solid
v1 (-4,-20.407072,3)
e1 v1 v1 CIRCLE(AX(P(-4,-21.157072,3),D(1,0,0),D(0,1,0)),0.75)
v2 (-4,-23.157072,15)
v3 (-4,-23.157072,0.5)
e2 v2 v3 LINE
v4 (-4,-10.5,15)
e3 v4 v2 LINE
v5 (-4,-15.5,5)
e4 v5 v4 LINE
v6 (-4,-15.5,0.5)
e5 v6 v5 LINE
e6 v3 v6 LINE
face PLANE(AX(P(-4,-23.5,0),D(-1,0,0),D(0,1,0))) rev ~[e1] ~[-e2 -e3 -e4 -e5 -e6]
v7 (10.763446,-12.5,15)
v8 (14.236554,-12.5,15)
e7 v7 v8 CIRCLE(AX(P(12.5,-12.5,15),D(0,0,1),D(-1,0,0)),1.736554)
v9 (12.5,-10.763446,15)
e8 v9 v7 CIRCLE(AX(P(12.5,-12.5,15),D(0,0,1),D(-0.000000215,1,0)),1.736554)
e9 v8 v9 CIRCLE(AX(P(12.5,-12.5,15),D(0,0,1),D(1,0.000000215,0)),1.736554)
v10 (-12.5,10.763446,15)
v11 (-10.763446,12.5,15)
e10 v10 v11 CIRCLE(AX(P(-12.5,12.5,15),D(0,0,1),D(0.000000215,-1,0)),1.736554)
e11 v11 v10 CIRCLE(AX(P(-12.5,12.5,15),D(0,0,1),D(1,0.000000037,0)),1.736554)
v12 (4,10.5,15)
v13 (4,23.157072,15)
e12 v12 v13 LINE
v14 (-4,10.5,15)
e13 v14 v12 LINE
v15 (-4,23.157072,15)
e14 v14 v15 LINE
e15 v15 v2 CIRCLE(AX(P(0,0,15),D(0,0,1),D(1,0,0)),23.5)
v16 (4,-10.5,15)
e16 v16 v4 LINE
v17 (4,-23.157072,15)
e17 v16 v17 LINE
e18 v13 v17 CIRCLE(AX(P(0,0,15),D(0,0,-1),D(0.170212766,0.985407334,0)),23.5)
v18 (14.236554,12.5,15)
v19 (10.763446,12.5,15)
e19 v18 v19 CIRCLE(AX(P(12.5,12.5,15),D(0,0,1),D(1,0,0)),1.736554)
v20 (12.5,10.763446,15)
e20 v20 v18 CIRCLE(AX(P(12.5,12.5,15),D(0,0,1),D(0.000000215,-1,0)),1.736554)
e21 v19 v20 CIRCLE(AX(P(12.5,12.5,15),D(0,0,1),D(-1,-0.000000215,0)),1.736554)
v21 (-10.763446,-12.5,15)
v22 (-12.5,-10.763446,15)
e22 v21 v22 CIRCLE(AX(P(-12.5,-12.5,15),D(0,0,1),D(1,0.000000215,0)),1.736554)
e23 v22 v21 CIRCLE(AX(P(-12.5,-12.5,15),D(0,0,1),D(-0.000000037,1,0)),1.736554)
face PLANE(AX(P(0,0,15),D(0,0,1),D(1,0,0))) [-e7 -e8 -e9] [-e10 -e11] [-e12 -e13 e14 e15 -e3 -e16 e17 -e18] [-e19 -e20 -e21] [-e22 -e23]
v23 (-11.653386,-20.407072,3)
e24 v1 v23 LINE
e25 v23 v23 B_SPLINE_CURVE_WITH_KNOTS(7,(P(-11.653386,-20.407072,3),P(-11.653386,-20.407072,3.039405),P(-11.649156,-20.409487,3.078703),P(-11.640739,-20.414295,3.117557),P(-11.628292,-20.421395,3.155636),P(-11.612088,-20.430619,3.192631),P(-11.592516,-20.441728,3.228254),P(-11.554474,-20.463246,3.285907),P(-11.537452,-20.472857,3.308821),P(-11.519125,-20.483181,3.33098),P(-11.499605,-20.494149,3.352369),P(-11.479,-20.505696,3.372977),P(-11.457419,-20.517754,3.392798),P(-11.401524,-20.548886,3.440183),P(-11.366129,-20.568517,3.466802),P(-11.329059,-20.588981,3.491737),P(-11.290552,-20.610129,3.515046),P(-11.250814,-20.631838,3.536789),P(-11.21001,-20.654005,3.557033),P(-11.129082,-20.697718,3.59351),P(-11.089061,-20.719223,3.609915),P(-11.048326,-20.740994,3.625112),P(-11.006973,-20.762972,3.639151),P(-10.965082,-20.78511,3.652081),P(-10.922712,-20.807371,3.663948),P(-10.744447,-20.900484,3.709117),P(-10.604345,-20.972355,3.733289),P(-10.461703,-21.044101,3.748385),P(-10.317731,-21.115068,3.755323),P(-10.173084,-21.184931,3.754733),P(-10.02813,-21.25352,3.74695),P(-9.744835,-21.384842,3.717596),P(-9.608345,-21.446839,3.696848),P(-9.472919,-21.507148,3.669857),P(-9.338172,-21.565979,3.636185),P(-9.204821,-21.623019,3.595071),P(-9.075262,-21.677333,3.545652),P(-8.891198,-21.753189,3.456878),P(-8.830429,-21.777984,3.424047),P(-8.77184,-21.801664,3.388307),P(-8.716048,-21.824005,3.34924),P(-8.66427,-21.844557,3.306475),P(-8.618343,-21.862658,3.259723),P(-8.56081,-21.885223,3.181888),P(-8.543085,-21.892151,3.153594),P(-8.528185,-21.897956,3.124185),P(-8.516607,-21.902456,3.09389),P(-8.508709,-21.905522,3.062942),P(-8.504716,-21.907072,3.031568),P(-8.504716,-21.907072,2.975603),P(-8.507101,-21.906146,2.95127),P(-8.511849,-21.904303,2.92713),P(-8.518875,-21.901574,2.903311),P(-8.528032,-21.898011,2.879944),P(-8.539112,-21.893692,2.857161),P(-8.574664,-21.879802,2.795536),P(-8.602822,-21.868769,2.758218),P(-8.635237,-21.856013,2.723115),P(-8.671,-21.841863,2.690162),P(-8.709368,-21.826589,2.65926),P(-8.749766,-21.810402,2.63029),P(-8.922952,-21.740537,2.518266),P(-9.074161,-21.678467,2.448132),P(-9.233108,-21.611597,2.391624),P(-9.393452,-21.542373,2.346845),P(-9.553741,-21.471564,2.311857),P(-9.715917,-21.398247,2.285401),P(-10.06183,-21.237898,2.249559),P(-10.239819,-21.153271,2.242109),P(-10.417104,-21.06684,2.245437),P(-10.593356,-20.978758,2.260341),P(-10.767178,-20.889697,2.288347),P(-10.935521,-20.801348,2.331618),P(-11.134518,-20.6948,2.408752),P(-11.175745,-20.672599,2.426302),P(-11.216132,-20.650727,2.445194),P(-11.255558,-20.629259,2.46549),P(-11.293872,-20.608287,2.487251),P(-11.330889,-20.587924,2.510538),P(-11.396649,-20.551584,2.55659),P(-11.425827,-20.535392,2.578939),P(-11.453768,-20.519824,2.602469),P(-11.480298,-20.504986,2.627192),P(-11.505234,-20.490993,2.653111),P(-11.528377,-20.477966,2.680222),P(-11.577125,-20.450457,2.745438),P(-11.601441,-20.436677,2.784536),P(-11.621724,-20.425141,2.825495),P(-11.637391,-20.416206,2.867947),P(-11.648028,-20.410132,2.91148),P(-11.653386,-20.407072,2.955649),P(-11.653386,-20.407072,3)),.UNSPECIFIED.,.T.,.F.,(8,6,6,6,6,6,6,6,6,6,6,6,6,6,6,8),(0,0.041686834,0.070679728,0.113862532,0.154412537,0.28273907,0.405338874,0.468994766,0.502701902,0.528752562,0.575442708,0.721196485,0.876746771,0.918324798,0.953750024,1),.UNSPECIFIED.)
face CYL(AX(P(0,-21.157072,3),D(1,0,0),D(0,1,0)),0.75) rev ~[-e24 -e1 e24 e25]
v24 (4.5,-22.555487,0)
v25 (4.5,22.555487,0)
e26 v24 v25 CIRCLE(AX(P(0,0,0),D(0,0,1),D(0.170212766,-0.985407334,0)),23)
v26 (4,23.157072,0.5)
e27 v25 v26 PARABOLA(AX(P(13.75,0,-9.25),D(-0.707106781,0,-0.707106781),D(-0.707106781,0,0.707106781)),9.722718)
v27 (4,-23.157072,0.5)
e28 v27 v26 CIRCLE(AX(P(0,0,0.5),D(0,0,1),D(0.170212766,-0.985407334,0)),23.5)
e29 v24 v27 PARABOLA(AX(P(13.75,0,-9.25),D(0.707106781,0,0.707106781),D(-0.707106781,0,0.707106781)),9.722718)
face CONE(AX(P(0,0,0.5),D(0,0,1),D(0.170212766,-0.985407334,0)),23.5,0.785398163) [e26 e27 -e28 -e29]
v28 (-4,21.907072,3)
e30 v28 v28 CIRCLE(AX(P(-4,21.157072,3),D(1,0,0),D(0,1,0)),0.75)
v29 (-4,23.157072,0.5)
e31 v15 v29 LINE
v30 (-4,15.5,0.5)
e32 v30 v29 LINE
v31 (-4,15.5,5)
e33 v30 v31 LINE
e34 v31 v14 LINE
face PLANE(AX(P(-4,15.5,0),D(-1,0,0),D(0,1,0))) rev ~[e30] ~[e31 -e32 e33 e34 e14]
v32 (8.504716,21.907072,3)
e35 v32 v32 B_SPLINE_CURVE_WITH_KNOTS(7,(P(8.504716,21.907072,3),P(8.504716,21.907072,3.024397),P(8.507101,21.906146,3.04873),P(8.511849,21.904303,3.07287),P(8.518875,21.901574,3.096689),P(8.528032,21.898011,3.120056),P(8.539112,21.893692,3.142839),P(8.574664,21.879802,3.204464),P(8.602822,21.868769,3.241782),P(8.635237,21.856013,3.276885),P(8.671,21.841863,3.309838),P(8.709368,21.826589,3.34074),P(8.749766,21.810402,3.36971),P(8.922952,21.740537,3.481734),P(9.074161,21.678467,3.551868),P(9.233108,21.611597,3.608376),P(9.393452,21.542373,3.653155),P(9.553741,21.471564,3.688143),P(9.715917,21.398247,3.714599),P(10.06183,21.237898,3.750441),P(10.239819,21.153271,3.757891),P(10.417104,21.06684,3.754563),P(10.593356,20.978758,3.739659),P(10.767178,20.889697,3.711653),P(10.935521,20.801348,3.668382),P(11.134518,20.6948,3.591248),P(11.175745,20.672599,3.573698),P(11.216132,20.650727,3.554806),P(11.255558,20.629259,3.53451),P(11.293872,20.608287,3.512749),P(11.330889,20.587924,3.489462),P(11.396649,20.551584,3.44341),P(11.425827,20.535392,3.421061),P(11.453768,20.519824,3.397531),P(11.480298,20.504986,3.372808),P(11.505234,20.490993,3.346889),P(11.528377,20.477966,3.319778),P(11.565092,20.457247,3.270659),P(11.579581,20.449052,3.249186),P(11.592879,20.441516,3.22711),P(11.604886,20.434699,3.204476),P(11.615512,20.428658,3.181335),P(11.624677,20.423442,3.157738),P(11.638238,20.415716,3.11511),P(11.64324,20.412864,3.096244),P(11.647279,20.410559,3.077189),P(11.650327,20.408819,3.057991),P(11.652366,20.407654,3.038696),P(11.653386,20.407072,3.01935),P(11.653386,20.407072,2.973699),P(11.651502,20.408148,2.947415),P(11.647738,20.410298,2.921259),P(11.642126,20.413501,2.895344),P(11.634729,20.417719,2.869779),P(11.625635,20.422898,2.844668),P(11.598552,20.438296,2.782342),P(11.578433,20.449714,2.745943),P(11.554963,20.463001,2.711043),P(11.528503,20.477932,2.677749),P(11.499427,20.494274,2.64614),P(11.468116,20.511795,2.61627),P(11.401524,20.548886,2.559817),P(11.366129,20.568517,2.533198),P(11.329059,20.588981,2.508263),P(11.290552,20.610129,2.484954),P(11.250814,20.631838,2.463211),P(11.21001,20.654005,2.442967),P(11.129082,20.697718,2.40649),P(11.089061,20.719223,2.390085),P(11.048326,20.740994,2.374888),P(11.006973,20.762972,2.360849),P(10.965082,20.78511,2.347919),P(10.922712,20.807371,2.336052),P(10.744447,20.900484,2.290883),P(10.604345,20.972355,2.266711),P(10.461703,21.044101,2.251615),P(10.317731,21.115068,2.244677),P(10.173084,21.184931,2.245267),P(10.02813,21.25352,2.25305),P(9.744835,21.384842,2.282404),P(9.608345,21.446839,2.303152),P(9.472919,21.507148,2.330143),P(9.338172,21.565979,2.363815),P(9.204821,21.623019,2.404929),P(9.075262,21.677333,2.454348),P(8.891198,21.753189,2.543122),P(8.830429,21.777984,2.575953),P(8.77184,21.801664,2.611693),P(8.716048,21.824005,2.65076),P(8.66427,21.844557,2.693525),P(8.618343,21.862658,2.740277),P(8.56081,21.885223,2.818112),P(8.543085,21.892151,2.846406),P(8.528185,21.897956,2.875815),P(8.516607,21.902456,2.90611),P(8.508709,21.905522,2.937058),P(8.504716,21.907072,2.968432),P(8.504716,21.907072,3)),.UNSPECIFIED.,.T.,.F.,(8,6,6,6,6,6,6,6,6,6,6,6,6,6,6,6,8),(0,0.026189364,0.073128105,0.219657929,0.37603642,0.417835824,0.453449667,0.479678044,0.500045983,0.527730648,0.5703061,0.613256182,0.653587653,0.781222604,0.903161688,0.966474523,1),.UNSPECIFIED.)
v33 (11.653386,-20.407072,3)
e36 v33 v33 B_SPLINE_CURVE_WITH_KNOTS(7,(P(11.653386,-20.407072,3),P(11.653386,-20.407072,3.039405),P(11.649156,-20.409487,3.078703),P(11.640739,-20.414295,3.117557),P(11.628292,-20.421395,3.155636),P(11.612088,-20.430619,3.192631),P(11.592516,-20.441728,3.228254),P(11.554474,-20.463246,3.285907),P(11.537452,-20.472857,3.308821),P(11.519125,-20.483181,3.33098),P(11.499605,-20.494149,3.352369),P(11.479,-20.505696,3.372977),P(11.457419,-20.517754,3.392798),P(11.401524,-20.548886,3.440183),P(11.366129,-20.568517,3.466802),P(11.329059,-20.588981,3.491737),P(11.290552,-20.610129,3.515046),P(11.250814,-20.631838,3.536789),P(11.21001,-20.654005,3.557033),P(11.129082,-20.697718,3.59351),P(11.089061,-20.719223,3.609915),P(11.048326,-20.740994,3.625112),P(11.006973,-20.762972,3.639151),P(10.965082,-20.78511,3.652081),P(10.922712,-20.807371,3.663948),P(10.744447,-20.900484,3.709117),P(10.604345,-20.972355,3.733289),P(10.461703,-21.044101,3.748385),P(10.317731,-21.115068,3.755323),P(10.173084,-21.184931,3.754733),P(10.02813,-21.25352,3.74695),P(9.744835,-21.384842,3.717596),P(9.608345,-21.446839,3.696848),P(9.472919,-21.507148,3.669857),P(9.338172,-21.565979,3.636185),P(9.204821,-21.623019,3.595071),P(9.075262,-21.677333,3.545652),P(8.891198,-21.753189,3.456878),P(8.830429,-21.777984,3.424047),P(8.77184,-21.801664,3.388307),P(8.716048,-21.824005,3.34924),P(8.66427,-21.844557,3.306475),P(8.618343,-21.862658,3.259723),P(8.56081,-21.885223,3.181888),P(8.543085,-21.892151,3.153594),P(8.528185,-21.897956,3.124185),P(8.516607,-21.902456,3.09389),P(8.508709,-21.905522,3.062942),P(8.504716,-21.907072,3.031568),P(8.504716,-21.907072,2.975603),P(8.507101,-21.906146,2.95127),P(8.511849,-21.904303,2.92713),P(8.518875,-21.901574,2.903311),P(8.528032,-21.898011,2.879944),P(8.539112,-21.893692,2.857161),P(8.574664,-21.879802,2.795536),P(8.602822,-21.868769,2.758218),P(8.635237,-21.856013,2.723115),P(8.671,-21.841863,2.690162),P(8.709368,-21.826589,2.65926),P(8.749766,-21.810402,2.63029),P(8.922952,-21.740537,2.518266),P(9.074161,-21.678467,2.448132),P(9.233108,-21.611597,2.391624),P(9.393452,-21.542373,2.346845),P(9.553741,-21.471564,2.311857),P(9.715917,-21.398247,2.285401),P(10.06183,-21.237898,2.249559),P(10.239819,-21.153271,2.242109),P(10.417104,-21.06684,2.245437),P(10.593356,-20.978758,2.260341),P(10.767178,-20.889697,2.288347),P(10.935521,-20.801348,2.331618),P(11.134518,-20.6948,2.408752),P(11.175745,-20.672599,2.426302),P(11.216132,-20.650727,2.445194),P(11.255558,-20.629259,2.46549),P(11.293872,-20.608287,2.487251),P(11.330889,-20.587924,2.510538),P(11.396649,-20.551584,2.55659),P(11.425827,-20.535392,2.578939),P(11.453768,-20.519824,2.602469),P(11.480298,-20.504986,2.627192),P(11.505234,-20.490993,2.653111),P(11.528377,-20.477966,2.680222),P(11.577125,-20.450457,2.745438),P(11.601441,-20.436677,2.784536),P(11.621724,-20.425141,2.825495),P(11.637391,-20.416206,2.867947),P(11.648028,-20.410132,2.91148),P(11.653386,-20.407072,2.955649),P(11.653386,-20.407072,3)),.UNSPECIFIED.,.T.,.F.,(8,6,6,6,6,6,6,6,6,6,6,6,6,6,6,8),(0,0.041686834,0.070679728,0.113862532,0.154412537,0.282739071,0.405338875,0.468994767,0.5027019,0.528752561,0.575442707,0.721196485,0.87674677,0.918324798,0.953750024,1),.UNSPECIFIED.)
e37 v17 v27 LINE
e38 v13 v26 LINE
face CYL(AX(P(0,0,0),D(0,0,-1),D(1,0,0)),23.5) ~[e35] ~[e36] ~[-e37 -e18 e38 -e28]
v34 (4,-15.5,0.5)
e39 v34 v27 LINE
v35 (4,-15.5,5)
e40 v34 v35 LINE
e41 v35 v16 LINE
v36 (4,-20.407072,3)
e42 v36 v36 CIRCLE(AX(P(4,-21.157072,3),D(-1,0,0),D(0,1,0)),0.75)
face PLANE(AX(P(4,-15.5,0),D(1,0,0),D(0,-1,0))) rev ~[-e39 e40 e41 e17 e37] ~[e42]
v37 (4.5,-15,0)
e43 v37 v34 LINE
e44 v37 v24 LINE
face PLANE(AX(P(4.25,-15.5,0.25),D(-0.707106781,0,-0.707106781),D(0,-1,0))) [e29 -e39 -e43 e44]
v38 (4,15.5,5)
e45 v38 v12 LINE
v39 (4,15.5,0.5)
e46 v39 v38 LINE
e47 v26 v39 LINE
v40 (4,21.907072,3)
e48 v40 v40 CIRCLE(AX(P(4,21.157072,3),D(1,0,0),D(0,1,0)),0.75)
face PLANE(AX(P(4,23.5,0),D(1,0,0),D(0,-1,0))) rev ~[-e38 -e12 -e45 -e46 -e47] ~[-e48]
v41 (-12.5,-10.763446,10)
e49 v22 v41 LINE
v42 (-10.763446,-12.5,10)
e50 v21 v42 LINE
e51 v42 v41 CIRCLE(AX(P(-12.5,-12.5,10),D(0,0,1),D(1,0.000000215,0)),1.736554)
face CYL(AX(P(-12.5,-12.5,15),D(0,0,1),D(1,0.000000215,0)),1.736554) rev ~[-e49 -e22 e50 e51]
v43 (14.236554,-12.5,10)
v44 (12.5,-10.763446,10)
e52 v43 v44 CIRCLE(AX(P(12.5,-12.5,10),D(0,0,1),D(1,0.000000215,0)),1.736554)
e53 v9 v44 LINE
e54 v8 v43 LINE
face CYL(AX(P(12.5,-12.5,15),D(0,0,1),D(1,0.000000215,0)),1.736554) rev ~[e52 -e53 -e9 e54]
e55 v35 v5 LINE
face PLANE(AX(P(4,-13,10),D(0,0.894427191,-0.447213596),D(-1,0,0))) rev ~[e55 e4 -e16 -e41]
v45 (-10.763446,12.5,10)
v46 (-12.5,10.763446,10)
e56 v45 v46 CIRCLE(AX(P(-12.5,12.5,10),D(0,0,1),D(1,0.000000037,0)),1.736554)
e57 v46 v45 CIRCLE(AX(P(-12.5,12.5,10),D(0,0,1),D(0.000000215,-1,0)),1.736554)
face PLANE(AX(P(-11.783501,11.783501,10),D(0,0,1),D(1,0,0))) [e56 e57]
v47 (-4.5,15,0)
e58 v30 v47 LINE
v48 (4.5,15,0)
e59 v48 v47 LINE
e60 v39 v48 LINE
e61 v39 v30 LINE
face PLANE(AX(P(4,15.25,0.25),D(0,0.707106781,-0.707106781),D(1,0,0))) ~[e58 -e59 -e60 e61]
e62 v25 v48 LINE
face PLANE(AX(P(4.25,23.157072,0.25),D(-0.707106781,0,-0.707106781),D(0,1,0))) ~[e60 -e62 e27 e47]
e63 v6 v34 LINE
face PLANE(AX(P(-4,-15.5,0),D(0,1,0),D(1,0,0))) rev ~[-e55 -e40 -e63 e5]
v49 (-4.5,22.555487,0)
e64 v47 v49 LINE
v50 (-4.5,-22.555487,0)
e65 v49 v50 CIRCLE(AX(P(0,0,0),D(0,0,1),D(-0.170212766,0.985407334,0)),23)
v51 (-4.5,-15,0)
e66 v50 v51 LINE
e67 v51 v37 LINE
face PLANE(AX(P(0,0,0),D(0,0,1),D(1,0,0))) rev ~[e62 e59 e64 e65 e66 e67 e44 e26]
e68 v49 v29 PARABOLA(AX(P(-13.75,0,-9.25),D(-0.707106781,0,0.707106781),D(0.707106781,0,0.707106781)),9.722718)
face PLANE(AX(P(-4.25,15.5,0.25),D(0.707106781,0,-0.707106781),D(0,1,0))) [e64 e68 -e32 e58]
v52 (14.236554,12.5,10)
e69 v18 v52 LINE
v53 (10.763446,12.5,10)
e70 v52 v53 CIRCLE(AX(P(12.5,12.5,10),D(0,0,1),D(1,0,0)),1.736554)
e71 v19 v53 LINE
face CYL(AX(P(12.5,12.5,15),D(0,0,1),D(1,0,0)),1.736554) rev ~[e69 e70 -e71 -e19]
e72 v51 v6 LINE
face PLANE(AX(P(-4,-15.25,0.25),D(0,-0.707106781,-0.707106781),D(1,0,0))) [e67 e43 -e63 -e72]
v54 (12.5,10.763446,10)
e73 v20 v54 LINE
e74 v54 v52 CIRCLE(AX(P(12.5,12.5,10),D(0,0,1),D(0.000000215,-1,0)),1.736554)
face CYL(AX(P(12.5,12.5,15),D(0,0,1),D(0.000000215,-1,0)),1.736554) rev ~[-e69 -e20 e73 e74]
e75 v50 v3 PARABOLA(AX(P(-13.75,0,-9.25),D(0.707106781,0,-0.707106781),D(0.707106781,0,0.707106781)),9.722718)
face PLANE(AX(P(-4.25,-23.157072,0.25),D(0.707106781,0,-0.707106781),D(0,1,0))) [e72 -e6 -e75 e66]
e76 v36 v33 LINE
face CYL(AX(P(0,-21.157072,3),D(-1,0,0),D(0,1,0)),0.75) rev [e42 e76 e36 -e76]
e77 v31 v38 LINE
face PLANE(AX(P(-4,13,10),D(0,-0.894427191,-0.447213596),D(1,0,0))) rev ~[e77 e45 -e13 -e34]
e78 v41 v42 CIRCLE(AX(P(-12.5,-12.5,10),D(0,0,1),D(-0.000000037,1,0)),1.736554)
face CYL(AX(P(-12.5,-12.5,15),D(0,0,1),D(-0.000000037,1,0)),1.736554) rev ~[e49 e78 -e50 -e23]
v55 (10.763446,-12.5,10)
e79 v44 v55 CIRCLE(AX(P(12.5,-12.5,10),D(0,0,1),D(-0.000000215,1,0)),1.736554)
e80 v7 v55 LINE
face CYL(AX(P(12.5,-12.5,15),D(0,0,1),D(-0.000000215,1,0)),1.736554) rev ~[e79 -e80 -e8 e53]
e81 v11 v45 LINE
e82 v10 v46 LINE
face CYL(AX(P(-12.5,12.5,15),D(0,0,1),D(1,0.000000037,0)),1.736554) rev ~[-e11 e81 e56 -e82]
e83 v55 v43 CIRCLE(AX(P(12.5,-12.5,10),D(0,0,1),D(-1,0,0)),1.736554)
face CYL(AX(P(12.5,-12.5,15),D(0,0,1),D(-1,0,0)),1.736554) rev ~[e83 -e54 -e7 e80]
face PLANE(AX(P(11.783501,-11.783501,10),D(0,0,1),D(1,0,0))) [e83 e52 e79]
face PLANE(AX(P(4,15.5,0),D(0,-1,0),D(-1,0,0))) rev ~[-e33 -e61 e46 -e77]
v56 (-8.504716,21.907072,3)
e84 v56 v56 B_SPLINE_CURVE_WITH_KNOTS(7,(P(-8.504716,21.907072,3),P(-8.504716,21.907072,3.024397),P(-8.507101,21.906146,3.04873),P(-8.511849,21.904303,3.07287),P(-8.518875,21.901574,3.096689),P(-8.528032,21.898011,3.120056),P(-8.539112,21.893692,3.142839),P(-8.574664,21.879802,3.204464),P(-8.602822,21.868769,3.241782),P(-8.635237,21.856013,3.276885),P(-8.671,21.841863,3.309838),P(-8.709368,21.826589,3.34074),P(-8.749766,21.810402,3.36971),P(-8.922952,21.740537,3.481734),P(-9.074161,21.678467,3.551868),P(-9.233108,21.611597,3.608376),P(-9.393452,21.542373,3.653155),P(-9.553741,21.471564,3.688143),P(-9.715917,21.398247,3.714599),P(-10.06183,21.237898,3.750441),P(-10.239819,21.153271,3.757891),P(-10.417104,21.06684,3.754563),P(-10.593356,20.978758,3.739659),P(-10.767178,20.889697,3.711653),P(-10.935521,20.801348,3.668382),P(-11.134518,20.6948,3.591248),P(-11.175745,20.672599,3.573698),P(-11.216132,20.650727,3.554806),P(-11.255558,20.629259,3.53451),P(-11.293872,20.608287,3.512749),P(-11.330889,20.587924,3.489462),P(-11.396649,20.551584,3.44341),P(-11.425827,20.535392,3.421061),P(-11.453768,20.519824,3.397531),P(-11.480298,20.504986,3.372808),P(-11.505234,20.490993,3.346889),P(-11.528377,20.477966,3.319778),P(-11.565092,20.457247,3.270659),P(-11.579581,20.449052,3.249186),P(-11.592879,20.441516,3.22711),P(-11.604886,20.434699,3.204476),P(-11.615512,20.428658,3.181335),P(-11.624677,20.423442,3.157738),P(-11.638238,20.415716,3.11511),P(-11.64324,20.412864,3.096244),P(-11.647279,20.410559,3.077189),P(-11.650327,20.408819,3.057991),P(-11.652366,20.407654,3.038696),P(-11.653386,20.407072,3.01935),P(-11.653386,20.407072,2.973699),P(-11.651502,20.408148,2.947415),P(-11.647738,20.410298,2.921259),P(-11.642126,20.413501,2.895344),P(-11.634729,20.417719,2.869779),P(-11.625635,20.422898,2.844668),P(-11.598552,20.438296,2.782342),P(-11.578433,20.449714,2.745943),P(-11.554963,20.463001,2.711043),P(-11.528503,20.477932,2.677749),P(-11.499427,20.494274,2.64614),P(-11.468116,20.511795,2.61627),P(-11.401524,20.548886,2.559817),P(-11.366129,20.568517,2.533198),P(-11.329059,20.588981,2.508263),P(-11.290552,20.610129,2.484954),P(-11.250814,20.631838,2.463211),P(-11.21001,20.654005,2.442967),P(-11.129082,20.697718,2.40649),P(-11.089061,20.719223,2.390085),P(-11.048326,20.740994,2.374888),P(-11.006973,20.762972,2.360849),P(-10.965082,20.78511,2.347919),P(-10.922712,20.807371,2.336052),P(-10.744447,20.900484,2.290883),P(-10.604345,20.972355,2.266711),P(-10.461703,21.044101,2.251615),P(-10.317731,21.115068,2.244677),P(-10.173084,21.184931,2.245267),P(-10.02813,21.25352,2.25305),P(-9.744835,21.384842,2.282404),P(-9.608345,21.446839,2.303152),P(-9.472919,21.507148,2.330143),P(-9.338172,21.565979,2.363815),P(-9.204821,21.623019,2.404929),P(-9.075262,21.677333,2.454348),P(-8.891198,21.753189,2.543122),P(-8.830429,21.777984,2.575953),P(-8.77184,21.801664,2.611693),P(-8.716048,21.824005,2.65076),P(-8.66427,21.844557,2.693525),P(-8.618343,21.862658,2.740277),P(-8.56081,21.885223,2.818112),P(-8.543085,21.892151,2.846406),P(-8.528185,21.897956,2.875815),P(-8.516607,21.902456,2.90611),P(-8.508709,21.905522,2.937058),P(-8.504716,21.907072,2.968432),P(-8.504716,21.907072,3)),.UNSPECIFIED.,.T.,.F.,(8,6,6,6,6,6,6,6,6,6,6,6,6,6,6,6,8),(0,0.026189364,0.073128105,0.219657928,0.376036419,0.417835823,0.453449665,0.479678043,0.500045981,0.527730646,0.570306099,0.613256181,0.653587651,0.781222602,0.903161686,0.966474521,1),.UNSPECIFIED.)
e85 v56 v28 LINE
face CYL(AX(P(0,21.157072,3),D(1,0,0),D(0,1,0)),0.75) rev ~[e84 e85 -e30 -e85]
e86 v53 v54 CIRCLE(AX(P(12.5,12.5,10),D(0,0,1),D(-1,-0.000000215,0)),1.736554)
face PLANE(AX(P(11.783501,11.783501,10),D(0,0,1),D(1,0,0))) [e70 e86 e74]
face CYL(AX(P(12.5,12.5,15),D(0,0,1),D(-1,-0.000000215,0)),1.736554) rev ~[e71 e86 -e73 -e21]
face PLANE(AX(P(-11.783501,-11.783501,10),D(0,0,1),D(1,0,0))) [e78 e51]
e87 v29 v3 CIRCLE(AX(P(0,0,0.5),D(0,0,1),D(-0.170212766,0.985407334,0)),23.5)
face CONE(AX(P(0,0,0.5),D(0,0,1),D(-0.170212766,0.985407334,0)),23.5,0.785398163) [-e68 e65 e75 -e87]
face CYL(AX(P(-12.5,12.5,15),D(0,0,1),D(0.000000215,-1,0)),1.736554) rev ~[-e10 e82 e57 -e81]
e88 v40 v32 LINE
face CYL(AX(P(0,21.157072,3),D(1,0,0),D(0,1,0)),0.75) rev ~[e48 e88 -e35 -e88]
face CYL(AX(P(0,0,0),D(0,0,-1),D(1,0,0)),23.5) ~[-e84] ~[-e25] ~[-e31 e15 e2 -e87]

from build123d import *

# Parameters (mm, degrees)
F0_R      = 23.5
F1_DEPTH  = 15
F3_DEPTH  = 25
F4_SIZE2  = 5
F4_SIZE   = 10
F5_SIZE2  = 5
F5_SIZE   = 10
F7_R      = 0.75
F8_DEPTH  = 12.5
F11_DEPTH = 5
F12_SIZE  = 0.5


with BuildPart() as f1:
    # F0 (on Top) → F1 (new body)
    with BuildSketch(Plane.XY):
        Circle(F0_R)
    extrude(amount=F1_DEPTH)

    # F2 (on face) → F3 (cut)
    with BuildSketch(Plane(origin=(0, 0, 0), x_dir=(1, 0, 0), z_dir=(0, 0, -1))):
        with BuildLine():
            ThreePointArc((0, -23.5), (-2.007337, -23.414111), (-4, -23.157072))
            Line((-4, -23.157072), (-4, -23.5))
            Line((-4, -23.5), (0, -23.5))
        make_face()
        with BuildLine():
            Line((4, -23.5), (4, -23.157072))
            ThreePointArc((4, -23.157072), (2.007337, -23.414111), (0, -23.5))
            Line((0, -23.5), (4, -23.5))
        make_face()
        with BuildLine():
            Line((-4, -15.5), (-4, -23.157072))
            ThreePointArc((-4, -23.157072), (-2.007337, -23.414111), (0, -23.5))
            Line((0, -23.5), (0, -15.5))
            Line((0, -15.5), (-4, -15.5))
        make_face()
        with BuildLine():
            ThreePointArc((0, -23.5), (2.007337, -23.414111), (4, -23.157072))
            Line((4, -23.157072), (4, -15.5))
            Line((4, -15.5), (0, -15.5))
            Line((0, -15.5), (0, -23.5))
        make_face()
        with BuildLine():
            ThreePointArc((4, 23.157072), (2.007337, 23.414111), (0, 23.5))
            Line((0, 23.5), (0, 15.5))
            Line((0, 15.5), (4, 15.5))
            Line((4, 15.5), (4, 23.157072))
        make_face()
        with BuildLine():
            Line((0, 15.5), (0, 23.5))
            ThreePointArc((0, 23.5), (-2.007337, 23.414111), (-4, 23.157072))
            Line((-4, 23.157072), (-4, 15.5))
            Line((-4, 15.5), (0, 15.5))
        make_face()
        with BuildLine():
            Line((4, 23.5), (0, 23.5))
            ThreePointArc((0, 23.5), (2.007337, 23.414111), (4, 23.157072))
            Line((4, 23.157072), (4, 23.5))
        make_face()
        with BuildLine():
            ThreePointArc((-4, 23.157072), (-2.007337, 23.414111), (0, 23.5))
            Line((0, 23.5), (-4, 23.5))
            Line((-4, 23.5), (-4, 23.157072))
        make_face()
    extrude(amount=-F3_DEPTH, mode=Mode.SUBTRACT)

    # F4
    f4_edges = [f1.edges().sort_by_distance(p)[0] for p in [
        (0, -15.5, 15),
    ]]
    chamfer(f4_edges, length=F4_SIZE, length2=F4_SIZE2)

    # F5
    f5_edges = [f1.edges().sort_by_distance(p)[0] for p in [
        (0, 15.5, 15),
    ]]
    chamfer(f5_edges, length=F5_SIZE, length2=F5_SIZE2)

    # F7 (on Right) → F8 (cut, symmetric)
    with BuildSketch(Plane.YZ):
        with Locations((-21.157072, 3)):
            Circle(F7_R)
        with Locations((21.157072, 3)):
            Circle(F7_R)
    extrude(amount=F8_DEPTH, both=True, mode=Mode.SUBTRACT)

    # F10 (on face) → F11 (cut)
    with BuildSketch(Plane.XY.offset(15)):
        with BuildLine():
            ThreePointArc((-12.5, 10.763446), (-11.272071, 11.272071), (-10.763446, 12.5))
            Line((-10.763446, 12.5), (-12.5, 12.5))
            Line((-12.5, 12.5), (-12.5, 10.763446))
        make_face()
        with BuildLine():
            Line((-12.5, 12.5), (-10.763446, 12.5))
            ThreePointArc((-10.763446, 12.5), (-13.727929, 13.727929), (-12.5, 10.763446))
            Line((-12.5, 10.763446), (-12.5, 12.5))
        make_face()
        with BuildLine():
            ThreePointArc((-10.763446, -12.5), (-11.272071, -11.272071), (-12.5, -10.763446))
            Line((-12.5, -10.763446), (-12.5, -12.5))
            Line((-12.5, -12.5), (-10.763446, -12.5))
        make_face()
        with BuildLine():
            Line((-12.5, -12.5), (-12.5, -10.763446))
            ThreePointArc((-12.5, -10.763446), (-13.727929, -13.727929), (-10.763446, -12.5))
            Line((-10.763446, -12.5), (-12.5, -12.5))
        make_face()
        with BuildLine():
            Line((12.5, -12.5), (12.5, -10.763446))
            ThreePointArc((12.5, -10.763446), (11.272071, -11.272071), (10.763446, -12.5))
            Line((10.763446, -12.5), (12.5, -12.5))
        make_face()
        with BuildLine():
            Line((12.5, 12.5), (10.763446, 12.5))
            ThreePointArc((10.763446, 12.5), (11.272071, 11.272071), (12.5, 10.763446))
            Line((12.5, 10.763446), (12.5, 12.5))
        make_face()
        with BuildLine():
            ThreePointArc((14.236554, 12.5), (12.5, 14.236554), (10.763446, 12.5))
            Line((10.763446, 12.5), (12.5, 12.5))
            Line((12.5, 12.5), (12.5, 10.763446))
            ThreePointArc((12.5, 10.763446), (13.727929, 11.272071), (14.236554, 12.5))
        make_face()
        with BuildLine():
            ThreePointArc((14.236554, -12.5), (13.727929, -11.272071), (12.5, -10.763446))
            Line((12.5, -10.763446), (12.5, -12.5))
            Line((12.5, -12.5), (10.763446, -12.5))
            ThreePointArc((10.763446, -12.5), (12.5, -14.236554), (14.236554, -12.5))
        make_face()
    extrude(amount=-F11_DEPTH, mode=Mode.SUBTRACT)

    # F12
    f12_edges = [f1.edges().sort_by_distance(p)[0] for p in [
        (23.5, 0, 0),
        (4, 19.328536, 0),
        (0, 15.5, 0),
        (-4, 19.328536, 0),
        (-23.5, 0, 0),
        (-4, -19.328536, 0),
        (0, -15.5, 0),
        (4, -19.328536, 0),
    ]]
    chamfer(f12_edges, length=F12_SIZE)


solid = f1.part
